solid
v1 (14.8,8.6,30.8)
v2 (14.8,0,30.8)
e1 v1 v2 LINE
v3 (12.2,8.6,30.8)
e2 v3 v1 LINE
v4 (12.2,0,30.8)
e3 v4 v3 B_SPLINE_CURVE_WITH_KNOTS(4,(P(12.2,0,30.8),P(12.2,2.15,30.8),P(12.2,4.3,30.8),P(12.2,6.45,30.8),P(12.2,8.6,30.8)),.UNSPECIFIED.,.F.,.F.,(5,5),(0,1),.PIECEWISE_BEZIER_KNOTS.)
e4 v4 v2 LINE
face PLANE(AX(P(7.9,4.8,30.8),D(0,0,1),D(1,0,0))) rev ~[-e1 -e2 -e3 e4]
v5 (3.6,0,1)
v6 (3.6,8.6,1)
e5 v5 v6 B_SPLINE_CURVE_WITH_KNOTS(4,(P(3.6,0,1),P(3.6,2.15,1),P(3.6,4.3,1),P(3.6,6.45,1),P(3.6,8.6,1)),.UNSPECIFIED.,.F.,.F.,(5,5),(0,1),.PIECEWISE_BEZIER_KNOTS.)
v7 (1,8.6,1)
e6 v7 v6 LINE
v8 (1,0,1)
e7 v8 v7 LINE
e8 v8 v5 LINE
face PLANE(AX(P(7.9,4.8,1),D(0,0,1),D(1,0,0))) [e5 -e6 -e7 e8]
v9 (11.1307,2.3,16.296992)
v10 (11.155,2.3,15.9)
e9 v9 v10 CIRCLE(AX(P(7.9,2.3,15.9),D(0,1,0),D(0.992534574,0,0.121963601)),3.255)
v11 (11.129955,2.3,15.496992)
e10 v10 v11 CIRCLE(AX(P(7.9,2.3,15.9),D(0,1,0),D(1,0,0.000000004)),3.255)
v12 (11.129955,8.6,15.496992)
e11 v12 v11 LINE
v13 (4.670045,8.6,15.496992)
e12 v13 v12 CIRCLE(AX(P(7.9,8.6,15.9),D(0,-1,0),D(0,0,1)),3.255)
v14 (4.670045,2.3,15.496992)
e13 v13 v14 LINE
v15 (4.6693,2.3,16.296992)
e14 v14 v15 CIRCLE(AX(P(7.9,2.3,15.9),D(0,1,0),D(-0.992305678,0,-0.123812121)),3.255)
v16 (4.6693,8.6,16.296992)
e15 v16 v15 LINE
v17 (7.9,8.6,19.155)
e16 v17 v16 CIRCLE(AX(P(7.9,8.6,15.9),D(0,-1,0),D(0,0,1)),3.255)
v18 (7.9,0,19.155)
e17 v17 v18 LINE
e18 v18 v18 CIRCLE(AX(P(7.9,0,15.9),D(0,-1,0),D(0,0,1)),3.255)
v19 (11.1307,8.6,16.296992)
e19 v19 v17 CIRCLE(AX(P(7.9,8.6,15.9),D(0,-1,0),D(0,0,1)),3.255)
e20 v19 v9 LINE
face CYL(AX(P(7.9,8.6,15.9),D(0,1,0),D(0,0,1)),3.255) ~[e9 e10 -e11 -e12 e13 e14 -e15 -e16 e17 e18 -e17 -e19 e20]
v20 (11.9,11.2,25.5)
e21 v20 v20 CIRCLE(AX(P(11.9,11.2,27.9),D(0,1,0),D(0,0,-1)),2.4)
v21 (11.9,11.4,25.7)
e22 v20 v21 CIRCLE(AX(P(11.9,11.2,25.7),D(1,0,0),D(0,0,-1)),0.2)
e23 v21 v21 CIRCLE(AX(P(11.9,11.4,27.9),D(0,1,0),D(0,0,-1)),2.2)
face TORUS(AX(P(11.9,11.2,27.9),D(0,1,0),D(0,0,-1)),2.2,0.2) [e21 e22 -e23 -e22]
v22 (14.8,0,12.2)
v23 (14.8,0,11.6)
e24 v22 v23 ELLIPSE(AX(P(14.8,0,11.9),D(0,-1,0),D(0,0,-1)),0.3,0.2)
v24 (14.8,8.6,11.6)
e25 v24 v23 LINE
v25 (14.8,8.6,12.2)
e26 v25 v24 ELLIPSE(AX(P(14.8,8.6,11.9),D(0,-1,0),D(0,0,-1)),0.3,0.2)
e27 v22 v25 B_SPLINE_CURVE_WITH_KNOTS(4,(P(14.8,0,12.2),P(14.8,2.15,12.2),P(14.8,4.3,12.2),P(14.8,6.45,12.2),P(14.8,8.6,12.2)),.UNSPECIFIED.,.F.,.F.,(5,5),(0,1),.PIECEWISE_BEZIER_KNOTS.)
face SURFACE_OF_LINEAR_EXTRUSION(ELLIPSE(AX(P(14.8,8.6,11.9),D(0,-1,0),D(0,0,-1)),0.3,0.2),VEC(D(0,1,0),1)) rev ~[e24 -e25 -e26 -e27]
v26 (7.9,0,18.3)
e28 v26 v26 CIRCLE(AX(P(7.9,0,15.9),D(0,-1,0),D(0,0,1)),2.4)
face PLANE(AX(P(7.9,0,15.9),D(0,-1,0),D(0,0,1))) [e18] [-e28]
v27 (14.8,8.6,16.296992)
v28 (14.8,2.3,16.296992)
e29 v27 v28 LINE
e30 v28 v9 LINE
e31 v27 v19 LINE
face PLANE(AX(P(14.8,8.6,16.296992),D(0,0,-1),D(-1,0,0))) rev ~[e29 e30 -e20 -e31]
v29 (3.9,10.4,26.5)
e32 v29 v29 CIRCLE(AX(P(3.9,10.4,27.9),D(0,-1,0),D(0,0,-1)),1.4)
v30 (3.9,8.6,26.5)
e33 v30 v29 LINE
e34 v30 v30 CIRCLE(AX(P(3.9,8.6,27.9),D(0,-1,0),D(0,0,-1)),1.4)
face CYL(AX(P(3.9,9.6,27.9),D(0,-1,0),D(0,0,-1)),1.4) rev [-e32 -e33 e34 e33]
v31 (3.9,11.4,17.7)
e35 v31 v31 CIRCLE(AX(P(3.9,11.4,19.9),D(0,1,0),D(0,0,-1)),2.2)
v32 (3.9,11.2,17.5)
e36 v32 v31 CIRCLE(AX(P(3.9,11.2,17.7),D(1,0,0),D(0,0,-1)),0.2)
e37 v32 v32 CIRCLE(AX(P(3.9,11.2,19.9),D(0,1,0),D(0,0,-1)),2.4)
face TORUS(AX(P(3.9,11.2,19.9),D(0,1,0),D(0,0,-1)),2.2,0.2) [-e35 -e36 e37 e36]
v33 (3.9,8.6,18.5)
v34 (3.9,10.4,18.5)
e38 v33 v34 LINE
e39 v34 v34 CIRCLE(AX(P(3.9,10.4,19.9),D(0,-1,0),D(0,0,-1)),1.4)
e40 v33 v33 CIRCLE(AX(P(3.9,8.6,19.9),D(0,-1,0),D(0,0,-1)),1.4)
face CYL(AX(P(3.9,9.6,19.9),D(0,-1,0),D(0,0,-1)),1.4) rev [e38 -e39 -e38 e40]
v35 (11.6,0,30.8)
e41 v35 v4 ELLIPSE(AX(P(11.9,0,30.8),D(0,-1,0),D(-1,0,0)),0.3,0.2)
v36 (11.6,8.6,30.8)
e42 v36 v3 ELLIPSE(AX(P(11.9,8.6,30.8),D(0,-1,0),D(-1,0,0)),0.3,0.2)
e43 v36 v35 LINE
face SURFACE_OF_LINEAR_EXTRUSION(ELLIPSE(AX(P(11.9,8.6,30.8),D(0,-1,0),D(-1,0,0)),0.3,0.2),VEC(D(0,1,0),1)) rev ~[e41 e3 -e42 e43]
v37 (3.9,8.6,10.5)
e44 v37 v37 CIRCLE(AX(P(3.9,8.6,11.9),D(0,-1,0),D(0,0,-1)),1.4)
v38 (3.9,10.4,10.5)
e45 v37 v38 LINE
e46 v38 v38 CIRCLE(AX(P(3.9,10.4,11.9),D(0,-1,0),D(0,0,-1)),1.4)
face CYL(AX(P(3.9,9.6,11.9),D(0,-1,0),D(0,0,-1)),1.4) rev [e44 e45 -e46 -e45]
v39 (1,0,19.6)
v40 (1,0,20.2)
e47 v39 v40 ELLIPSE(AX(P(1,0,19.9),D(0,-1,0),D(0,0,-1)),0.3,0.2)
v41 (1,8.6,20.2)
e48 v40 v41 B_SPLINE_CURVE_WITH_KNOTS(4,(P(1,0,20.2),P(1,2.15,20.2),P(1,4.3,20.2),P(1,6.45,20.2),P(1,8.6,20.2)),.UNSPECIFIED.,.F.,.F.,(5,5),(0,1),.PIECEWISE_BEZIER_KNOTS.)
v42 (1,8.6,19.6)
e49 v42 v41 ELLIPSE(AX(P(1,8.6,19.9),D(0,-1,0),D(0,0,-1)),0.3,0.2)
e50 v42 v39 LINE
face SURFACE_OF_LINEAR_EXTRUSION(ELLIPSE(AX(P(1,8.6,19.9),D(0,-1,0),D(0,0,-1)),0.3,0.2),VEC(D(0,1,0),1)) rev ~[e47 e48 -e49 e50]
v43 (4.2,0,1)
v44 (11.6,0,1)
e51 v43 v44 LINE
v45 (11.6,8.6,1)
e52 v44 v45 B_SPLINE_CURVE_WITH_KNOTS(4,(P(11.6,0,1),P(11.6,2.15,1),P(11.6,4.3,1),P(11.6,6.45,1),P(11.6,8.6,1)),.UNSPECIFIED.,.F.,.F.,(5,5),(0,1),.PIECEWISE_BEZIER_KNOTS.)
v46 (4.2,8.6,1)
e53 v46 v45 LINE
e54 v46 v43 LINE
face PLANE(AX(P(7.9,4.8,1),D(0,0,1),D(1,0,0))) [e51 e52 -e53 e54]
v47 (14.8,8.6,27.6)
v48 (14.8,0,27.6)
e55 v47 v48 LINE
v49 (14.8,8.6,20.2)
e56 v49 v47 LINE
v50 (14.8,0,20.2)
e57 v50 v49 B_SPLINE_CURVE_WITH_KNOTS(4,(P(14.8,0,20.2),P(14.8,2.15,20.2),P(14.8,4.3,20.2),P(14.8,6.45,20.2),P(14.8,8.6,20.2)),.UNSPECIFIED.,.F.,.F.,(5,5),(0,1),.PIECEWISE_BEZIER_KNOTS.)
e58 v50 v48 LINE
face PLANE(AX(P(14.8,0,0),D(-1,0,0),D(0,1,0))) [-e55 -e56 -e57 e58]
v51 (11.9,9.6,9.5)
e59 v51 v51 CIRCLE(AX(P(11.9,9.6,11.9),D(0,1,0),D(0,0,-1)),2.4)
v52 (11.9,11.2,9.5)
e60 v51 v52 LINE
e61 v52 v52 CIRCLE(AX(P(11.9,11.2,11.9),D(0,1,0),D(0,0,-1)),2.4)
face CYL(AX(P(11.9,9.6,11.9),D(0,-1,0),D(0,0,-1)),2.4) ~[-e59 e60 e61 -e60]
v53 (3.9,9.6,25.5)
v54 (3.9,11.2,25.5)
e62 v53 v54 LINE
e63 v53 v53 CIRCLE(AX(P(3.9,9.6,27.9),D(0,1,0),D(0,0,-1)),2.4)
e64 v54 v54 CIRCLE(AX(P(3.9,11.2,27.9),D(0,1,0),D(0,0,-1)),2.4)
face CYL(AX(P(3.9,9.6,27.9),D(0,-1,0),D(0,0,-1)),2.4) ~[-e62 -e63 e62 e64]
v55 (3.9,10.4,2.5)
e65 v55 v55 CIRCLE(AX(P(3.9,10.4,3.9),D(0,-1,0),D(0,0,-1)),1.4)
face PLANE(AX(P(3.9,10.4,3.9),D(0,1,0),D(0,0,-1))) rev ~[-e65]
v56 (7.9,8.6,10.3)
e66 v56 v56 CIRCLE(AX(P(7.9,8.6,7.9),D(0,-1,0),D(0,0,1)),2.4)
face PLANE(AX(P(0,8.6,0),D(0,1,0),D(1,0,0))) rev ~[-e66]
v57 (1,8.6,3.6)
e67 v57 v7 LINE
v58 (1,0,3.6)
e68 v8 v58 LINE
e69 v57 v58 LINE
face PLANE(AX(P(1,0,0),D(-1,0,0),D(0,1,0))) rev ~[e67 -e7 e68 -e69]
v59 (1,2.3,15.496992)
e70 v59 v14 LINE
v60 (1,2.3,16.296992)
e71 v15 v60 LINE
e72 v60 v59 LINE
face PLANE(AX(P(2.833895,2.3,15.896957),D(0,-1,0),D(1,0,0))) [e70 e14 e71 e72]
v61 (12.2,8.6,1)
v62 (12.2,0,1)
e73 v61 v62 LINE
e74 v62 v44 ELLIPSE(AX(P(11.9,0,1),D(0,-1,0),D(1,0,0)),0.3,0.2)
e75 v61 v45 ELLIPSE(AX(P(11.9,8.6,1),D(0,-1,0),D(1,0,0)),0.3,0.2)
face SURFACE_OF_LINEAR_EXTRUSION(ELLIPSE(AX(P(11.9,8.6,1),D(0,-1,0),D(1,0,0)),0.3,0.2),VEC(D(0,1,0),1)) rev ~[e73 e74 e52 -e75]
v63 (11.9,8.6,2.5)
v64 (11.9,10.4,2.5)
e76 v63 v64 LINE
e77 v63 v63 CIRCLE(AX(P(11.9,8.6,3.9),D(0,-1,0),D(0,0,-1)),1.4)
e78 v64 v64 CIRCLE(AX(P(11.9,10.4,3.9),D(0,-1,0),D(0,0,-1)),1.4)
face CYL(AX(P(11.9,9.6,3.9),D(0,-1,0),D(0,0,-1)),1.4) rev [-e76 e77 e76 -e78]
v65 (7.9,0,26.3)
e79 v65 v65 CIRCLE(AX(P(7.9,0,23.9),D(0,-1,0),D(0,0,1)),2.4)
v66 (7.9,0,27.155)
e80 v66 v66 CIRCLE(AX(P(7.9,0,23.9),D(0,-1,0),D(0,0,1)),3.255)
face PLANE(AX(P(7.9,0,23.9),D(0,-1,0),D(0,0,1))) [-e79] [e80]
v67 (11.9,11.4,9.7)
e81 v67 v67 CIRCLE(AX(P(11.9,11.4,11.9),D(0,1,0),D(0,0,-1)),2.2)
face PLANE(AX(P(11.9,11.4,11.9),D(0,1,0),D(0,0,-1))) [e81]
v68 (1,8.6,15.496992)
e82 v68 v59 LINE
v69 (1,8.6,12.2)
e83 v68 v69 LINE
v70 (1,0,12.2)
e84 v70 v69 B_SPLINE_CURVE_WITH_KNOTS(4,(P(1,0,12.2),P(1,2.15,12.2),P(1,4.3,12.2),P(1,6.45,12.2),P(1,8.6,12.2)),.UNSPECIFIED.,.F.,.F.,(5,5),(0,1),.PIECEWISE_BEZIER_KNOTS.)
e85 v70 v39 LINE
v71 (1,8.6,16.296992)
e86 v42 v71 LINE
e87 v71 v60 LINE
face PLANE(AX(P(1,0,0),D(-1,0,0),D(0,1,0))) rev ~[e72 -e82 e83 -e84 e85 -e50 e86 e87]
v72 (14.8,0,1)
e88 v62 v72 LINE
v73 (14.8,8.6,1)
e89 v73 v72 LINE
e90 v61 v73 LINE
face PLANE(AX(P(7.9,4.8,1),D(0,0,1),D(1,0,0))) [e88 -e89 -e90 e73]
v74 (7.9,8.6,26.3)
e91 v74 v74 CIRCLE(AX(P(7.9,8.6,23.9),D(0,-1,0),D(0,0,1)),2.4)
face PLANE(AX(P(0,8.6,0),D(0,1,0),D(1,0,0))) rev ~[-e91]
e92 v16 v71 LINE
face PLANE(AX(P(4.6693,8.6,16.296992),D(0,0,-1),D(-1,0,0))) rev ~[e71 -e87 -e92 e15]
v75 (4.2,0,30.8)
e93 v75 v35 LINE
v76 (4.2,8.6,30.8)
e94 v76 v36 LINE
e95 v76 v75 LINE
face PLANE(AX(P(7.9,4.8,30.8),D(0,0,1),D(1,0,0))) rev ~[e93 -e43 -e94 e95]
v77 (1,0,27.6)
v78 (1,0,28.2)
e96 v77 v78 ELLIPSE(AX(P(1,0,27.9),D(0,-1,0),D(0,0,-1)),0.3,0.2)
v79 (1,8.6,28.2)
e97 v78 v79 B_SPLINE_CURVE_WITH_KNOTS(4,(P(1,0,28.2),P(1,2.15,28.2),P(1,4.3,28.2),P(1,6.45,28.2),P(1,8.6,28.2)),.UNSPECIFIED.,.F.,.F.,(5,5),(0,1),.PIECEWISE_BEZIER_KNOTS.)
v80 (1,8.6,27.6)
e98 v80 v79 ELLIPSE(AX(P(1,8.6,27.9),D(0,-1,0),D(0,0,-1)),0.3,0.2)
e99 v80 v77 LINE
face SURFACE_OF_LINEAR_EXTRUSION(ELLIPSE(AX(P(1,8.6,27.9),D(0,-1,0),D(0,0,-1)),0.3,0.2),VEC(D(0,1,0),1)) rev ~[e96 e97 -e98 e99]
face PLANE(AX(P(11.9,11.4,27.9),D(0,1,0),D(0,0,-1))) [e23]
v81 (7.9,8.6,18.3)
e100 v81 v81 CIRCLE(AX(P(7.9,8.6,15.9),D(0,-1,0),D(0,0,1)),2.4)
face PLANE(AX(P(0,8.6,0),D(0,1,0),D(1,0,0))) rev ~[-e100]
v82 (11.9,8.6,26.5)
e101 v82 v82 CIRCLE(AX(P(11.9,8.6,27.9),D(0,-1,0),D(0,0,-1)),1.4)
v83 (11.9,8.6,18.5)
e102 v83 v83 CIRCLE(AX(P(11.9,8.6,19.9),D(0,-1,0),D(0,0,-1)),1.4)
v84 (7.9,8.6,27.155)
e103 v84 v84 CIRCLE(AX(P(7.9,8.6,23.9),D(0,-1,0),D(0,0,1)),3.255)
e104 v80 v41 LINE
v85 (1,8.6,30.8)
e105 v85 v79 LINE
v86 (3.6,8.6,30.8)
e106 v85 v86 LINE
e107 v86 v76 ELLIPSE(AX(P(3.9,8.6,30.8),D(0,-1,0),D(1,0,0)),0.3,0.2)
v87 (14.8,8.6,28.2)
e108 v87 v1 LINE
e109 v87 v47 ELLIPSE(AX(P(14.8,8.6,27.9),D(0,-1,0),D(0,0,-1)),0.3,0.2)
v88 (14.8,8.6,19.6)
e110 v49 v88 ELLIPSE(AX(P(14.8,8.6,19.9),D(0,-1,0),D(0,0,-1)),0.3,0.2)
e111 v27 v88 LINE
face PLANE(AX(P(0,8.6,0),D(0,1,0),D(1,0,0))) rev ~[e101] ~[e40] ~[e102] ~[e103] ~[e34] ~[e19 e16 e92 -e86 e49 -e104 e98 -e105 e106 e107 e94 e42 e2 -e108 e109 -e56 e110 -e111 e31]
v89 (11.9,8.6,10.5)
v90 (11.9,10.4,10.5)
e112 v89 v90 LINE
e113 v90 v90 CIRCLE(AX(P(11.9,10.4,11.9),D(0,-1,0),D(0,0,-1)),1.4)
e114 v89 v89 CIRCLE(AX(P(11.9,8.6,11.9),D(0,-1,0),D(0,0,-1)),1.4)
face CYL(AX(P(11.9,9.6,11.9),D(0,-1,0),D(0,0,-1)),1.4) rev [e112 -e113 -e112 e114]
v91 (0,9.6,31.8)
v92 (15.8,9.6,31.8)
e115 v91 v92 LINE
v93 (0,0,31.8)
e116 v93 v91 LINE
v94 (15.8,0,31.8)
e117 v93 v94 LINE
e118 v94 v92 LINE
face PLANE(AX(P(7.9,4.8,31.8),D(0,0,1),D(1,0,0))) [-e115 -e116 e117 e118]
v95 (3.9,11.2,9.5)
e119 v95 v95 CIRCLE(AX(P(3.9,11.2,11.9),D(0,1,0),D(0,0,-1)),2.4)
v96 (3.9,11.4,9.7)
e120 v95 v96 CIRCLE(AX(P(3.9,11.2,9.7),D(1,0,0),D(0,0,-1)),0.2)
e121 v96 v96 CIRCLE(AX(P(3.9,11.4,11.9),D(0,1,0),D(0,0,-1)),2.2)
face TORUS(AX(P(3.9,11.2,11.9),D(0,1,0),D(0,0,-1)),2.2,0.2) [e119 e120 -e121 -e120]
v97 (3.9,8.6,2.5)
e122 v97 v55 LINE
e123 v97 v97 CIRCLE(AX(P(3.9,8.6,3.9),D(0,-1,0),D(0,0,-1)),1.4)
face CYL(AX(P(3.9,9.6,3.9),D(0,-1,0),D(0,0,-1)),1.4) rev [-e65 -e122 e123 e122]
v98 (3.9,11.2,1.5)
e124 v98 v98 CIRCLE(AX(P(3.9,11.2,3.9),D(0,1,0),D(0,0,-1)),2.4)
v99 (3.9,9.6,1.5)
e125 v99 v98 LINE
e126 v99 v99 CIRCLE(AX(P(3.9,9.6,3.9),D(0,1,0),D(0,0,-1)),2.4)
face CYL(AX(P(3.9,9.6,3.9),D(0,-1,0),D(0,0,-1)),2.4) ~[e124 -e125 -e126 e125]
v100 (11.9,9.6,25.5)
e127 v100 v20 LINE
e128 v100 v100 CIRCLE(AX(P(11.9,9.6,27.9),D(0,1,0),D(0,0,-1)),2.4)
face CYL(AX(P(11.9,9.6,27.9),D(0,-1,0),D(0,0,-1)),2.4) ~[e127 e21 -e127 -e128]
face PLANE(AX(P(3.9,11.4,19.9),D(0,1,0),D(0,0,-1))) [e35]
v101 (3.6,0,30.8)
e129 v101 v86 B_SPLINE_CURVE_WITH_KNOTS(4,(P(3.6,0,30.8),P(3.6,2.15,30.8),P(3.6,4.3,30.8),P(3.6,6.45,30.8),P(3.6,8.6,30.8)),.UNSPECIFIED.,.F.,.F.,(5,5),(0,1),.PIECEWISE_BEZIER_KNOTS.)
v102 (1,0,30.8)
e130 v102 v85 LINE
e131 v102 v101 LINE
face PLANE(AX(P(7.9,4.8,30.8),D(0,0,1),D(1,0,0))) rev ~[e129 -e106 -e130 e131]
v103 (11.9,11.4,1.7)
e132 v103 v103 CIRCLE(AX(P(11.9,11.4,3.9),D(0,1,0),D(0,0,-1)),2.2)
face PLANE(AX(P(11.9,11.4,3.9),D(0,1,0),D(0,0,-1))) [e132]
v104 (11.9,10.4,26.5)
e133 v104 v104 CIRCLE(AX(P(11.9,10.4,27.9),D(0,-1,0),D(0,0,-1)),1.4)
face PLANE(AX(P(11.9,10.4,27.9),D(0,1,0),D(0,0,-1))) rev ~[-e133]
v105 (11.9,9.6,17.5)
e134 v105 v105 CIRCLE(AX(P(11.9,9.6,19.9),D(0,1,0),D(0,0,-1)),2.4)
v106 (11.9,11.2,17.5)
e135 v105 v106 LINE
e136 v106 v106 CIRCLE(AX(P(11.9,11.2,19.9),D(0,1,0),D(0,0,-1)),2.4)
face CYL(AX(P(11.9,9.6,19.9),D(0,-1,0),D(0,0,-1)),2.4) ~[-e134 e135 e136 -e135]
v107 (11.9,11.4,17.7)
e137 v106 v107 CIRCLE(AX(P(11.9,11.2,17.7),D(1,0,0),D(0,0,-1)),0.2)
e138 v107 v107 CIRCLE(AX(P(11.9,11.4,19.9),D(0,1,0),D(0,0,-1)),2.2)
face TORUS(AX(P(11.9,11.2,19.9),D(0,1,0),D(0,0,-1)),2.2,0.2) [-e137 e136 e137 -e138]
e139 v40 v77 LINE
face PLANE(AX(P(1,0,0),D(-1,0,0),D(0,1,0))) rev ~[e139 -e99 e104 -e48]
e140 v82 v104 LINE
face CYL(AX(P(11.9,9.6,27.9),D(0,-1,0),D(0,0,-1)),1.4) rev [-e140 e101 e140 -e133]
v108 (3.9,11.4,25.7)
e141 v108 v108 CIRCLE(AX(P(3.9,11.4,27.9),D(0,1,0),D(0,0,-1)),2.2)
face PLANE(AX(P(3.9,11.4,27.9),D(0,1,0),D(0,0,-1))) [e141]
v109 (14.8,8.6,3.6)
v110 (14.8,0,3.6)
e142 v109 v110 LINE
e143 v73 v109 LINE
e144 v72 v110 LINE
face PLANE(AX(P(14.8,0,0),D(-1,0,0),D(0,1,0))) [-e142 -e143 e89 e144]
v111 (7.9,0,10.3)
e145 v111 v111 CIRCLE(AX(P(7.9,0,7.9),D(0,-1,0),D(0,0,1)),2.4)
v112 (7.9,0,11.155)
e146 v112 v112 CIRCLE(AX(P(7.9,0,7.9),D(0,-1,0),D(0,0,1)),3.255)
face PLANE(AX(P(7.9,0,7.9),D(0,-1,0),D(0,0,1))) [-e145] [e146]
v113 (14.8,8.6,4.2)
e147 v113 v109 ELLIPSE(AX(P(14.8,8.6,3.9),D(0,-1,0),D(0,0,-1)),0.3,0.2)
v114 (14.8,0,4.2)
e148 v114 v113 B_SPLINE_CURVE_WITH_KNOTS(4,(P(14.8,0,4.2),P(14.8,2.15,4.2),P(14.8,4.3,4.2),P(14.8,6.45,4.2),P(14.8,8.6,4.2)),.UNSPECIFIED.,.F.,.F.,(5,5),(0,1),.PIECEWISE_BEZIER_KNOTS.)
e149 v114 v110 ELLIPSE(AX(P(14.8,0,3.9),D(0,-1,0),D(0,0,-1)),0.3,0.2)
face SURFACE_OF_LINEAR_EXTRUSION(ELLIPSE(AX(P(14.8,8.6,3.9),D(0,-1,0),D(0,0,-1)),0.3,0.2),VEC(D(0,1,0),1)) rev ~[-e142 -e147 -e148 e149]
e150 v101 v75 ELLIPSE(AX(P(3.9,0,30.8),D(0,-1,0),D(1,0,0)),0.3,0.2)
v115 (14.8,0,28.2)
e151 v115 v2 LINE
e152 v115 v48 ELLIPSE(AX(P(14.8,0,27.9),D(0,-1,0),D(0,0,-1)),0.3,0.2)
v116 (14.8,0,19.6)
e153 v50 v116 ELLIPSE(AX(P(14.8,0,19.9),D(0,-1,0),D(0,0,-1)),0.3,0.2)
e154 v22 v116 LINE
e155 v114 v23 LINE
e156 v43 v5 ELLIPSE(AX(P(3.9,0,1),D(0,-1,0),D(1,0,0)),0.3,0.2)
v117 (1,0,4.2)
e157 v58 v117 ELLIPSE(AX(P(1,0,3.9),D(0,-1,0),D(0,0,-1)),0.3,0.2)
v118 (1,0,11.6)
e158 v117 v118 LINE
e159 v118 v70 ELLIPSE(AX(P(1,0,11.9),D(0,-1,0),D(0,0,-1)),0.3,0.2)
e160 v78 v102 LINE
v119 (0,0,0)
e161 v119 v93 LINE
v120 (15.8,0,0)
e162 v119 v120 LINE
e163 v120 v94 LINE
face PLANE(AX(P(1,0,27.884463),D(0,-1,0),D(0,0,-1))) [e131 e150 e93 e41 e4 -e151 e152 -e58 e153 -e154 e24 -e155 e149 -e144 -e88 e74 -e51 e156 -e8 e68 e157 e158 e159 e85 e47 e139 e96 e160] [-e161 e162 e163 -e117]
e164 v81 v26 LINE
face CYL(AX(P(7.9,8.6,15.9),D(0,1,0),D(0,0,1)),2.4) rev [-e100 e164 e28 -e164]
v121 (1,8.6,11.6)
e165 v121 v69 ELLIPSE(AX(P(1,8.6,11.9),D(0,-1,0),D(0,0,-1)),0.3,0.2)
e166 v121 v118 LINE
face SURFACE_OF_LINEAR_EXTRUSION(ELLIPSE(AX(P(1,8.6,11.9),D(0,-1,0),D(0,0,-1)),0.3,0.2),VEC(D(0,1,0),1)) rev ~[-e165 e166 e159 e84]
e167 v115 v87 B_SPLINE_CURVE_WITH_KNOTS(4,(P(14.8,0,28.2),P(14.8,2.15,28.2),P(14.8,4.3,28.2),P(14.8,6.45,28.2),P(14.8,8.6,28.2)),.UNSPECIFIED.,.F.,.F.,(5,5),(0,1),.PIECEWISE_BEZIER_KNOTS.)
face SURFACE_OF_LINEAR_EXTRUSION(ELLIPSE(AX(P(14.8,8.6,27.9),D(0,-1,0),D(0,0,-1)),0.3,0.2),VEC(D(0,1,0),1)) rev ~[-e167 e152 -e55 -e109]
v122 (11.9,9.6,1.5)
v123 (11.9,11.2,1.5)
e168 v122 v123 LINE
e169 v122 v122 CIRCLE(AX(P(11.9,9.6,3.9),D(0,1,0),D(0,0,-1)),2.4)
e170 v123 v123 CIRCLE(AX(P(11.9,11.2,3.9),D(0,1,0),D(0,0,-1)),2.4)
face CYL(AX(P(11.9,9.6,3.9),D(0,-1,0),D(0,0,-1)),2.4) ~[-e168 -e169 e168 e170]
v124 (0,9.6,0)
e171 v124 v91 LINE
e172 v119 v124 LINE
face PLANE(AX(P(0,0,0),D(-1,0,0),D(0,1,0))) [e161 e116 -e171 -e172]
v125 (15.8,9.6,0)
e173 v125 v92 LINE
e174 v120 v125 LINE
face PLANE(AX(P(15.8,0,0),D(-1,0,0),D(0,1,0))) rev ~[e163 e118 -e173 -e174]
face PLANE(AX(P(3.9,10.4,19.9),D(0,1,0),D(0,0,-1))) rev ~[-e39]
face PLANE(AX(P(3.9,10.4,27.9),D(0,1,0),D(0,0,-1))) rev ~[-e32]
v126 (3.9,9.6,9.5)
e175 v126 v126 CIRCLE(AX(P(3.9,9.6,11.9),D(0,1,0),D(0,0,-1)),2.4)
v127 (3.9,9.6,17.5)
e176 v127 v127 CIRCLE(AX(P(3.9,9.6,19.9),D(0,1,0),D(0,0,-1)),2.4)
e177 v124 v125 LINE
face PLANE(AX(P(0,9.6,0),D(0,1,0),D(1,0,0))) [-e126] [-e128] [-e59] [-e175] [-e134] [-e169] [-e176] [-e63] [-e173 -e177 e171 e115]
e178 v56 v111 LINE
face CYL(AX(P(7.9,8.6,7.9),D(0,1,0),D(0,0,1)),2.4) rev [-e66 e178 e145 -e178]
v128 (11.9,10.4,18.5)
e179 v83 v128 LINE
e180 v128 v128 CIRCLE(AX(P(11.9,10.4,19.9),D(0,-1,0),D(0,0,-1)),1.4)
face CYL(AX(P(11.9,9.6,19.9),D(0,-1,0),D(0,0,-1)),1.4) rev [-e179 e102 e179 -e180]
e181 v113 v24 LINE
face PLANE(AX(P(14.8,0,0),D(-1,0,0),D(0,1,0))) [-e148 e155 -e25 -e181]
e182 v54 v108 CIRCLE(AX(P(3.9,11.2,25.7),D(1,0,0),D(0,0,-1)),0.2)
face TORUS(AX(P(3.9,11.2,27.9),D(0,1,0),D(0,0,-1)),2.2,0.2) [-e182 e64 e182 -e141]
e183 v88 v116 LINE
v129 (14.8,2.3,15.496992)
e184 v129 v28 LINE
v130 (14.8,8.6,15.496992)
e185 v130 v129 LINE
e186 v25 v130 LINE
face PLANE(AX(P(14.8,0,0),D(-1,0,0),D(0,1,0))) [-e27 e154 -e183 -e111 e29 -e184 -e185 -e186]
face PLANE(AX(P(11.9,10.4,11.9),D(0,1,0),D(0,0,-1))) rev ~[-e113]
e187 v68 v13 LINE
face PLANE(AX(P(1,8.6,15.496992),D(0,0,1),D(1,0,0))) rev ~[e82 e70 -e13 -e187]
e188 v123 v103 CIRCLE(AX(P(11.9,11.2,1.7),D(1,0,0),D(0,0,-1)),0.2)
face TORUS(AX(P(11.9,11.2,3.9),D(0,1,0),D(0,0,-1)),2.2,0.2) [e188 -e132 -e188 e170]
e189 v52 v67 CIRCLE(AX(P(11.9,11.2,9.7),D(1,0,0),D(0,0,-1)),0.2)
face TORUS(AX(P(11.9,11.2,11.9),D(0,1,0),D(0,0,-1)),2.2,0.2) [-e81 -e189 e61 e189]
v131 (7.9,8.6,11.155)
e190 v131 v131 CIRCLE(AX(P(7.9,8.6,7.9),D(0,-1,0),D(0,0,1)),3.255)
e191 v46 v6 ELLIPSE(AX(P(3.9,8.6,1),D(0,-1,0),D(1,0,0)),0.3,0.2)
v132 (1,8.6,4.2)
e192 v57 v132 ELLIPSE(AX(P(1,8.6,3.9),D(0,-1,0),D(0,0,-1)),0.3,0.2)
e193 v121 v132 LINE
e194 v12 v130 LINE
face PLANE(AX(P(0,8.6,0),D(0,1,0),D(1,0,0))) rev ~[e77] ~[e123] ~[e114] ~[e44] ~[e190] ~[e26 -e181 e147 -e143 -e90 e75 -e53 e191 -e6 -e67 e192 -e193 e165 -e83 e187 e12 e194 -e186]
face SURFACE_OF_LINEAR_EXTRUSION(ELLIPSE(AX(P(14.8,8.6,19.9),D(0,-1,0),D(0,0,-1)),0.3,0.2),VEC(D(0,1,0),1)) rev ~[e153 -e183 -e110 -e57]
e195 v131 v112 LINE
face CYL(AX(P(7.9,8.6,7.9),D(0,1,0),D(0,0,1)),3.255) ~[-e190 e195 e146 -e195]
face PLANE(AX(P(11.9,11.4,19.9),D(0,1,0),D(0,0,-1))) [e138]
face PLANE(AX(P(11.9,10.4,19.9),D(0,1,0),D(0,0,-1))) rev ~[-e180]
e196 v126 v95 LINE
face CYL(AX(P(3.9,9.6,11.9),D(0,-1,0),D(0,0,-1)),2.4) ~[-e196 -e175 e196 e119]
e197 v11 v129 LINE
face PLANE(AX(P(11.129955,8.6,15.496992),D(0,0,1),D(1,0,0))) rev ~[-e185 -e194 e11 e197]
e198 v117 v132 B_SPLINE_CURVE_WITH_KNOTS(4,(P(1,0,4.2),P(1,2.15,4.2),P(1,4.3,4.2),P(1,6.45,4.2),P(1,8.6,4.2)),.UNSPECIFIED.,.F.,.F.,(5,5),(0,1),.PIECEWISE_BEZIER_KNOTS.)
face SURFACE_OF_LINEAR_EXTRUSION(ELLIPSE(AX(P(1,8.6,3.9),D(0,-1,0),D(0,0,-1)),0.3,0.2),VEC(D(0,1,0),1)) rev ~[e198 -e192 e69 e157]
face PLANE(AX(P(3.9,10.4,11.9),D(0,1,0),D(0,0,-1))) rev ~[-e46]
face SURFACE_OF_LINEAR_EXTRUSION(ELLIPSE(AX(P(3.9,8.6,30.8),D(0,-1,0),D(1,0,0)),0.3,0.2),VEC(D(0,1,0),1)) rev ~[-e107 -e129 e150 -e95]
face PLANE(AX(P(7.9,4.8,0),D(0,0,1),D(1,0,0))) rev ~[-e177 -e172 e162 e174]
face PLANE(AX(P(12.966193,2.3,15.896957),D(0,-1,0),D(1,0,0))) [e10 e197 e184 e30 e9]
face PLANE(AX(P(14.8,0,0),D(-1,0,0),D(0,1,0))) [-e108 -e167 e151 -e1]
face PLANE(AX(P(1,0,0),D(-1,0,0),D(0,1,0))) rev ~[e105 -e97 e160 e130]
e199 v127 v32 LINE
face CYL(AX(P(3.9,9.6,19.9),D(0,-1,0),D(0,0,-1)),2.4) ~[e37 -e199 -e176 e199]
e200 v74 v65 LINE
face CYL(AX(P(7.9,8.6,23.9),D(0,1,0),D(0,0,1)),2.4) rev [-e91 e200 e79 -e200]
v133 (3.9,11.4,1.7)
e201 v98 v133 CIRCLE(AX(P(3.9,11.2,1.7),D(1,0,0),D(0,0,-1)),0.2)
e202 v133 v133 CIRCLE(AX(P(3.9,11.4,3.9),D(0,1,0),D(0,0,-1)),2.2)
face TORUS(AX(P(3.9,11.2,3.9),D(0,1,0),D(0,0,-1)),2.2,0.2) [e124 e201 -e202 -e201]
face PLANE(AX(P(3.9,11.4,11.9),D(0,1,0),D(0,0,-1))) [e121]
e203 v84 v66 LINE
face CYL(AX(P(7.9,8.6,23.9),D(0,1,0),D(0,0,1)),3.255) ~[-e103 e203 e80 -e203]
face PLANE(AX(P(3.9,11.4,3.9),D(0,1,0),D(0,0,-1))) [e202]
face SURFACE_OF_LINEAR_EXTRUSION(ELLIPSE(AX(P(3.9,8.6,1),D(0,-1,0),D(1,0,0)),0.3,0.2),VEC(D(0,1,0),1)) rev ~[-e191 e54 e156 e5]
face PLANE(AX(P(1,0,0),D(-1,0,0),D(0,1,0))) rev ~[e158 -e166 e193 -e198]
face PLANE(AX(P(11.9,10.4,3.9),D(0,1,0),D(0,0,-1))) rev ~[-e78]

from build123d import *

# Parameters (mm, degrees)
SKETCH3_W           = 15.8
SKETCH3_H           = 9.6
BOSS_EXTRUDE1_DEPTH = 31.8
SKETCH5_R           = 2.4
BOSS_EXTRUDE2_DEPTH = 1.8
SHELL1_T            = -1
SKETCH6_R           = 3.255
SKETCH6_R_2         = 2.4
BOSS_EXTRUDE3_DEPTH = 8.6
SKETCH8_RX          = 0.3
SKETCH8_RY          = 0.2
BOSS_EXTRUDE4_DEPTH = 8.6
SKETCH9_RX          = 0.3
SKETCH9_RY          = 0.2
BOSS_EXTRUDE5_DEPTH = 8.6
BOSS_EXTRUDE6_DEPTH = 6.3
FILLET3_R           = 0.2


with BuildPart() as part:
    # Sketch3 → Boss-Extrude1 (new body)
    with BuildSketch(Plane.XY):
        with Locations((7.9, 4.8)):
            Rectangle(SKETCH3_W, SKETCH3_H)
    extrude(amount=BOSS_EXTRUDE1_DEPTH)

    # Sketch5 → Boss-Extrude2 (add)
    with BuildSketch(Plane(origin=(0, 9.6, 0), x_dir=(1, 0, 0), z_dir=(0, 1, 0))):
        with Locations(Location((3.9, -3.9, 0), (0, 0, 90))):
            Circle(SKETCH5_R)
        with Locations(Location((11.9, -3.9, 0), (0, 0, 90))):
            Circle(SKETCH5_R)
        with Locations(Location((11.9, -11.9, 0), (0, 0, 90))):
            Circle(SKETCH5_R)
        with Locations(Location((11.9, -19.9, 0), (0, 0, 90))):
            Circle(SKETCH5_R)
        with Locations(Location((11.9, -27.9, 0), (0, 0, 90))):
            Circle(SKETCH5_R)
        with Locations(Location((3.9, -11.9, 0), (0, 0, 90))):
            Circle(SKETCH5_R)
        with Locations(Location((3.9, -19.9, 0), (0, 0, 90))):
            Circle(SKETCH5_R)
        with Locations(Location((3.9, -27.9, 0), (0, 0, 90))):
            Circle(SKETCH5_R)
    extrude(amount=BOSS_EXTRUDE2_DEPTH)

    # Shell1
    shell1_openings = [part.faces().sort_by_distance(p)[0] for p in [
        (7.9, 0, 15.9),
    ]]
    offset(amount=SHELL1_T, openings=shell1_openings, kind=Kind.INTERSECTION)

    # Sketch6 → Boss-Extrude3 (add)
    # profile 1 of 3: a face of its own
    with BuildSketch(Plane(origin=(0, 8.6, 0), x_dir=(-1, 0, 0), z_dir=(0, -1, 0))):
        with Locations(Location((-7.9, -23.9, 0), (0, 0, 270))):
            Circle(SKETCH6_R)
        with Locations(Location((-7.9, -23.9, 0), (0, 0, 270))):
            Circle(SKETCH6_R_2, mode=Mode.SUBTRACT)
    # profile 2 of 3: a face of its own
    with BuildSketch(Plane(origin=(0, 8.6, 0), x_dir=(-1, 0, 0), z_dir=(0, -1, 0))):
        with Locations(Location((-7.9, -15.9, 0), (0, 0, 270))):
            Circle(SKETCH6_R)
        with Locations(Location((-7.9, -15.9, 0), (0, 0, 270))):
            Circle(SKETCH6_R_2, mode=Mode.SUBTRACT)
    # profile 3 of 3: a face of its own
    with BuildSketch(Plane(origin=(0, 8.6, 0), x_dir=(-1, 0, 0), z_dir=(0, -1, 0))):
        with Locations(Location((-7.9, -7.9, 0), (0, 0, 270))):
            Circle(SKETCH6_R)
        with Locations(Location((-7.9, -7.9, 0), (0, 0, 270))):
            Circle(SKETCH6_R_2, mode=Mode.SUBTRACT)
    extrude(amount=BOSS_EXTRUDE3_DEPTH)

    # Sketch8 → Boss-Extrude4 (add)
    with BuildSketch(Plane.XZ.offset(-8.6)):
        with Locations(Location((1, 27.9), (0, 0, -90))):
            Ellipse(SKETCH8_RX, SKETCH8_RY)
        with Locations(Location((14.8, 27.9), (0, 0, -90))):
            Ellipse(SKETCH8_RX, SKETCH8_RY)
        with Locations(Location((14.8, 19.9), (0, 0, -90))):
            Ellipse(SKETCH8_RX, SKETCH8_RY)
        with Locations(Location((14.8, 11.9), (0, 0, -90))):
            Ellipse(SKETCH8_RX, SKETCH8_RY)
        with Locations(Location((14.8, 3.9), (0, 0, -90))):
            Ellipse(SKETCH8_RX, SKETCH8_RY)
        with Locations(Location((1, 19.9), (0, 0, -90))):
            Ellipse(SKETCH8_RX, SKETCH8_RY)
        with Locations(Location((1, 11.9), (0, 0, -90))):
            Ellipse(SKETCH8_RX, SKETCH8_RY)
        with Locations(Location((1, 3.9), (0, 0, -90))):
            Ellipse(SKETCH8_RX, SKETCH8_RY)
    extrude(amount=BOSS_EXTRUDE4_DEPTH)

    # Sketch9 → Boss-Extrude5 (add)
    with BuildSketch(Plane.XZ.offset(-8.6)):
        with Locations((3.9, 30.8)):
            Ellipse(SKETCH9_RX, SKETCH9_RY)
        with Locations(Location((11.9, 30.8), (0, 0, 180))):
            Ellipse(SKETCH9_RX, SKETCH9_RY)
        with Locations((11.9, 1)):
            Ellipse(SKETCH9_RX, SKETCH9_RY)
        with Locations((3.9, 1)):
            Ellipse(SKETCH9_RX, SKETCH9_RY)
    extrude(amount=BOSS_EXTRUDE5_DEPTH)

    # Sketch10 → Boss-Extrude6 (add)
    with BuildSketch(Plane.XZ.offset(-8.6)):
        with BuildLine():
            ThreePointArc((4.670045019, 15.496991535), (4.645001412, 15.896968559), (4.669299964, 16.296991535))
            Line((4.669299964, 16.296991535), (1, 16.296991535))
            Line((1, 16.296991535), (1, 15.496991535))
            Line((1, 15.496991535), (4.670045019, 15.496991535))
        make_face()
        with BuildLine():
            Line((14.8, 16.296991535), (11.130700036, 16.296991535))
            ThreePointArc((11.130700036, 16.296991535), (11.148919329, 16.098867272), (11.155, 15.9))
            ThreePointArc((11.155, 15.9), (11.148732712, 15.698107036), (11.129954981, 15.496991535))
            Line((11.129954981, 15.496991535), (14.8, 15.496991535))
            Line((14.8, 15.496991535), (14.8, 16.296991535))
        make_face()
    extrude(amount=BOSS_EXTRUDE6_DEPTH)

    # Fillet3
    fillet3_edges = [part.edges().sort_by_distance(p)[0] for p in [
        (3.9, 11.4, 6.3),
        (11.9, 11.4, 6.3),
        (11.9, 11.4, 14.3),
        (11.9, 11.4, 22.3),
        (11.9, 11.4, 30.3),
        (3.9, 11.4, 14.3),
        (3.9, 11.4, 22.3),
        (3.9, 11.4, 30.3),
    ]]
    fillet(fillet3_edges, radius=FILLET3_R)


solid = part.part
